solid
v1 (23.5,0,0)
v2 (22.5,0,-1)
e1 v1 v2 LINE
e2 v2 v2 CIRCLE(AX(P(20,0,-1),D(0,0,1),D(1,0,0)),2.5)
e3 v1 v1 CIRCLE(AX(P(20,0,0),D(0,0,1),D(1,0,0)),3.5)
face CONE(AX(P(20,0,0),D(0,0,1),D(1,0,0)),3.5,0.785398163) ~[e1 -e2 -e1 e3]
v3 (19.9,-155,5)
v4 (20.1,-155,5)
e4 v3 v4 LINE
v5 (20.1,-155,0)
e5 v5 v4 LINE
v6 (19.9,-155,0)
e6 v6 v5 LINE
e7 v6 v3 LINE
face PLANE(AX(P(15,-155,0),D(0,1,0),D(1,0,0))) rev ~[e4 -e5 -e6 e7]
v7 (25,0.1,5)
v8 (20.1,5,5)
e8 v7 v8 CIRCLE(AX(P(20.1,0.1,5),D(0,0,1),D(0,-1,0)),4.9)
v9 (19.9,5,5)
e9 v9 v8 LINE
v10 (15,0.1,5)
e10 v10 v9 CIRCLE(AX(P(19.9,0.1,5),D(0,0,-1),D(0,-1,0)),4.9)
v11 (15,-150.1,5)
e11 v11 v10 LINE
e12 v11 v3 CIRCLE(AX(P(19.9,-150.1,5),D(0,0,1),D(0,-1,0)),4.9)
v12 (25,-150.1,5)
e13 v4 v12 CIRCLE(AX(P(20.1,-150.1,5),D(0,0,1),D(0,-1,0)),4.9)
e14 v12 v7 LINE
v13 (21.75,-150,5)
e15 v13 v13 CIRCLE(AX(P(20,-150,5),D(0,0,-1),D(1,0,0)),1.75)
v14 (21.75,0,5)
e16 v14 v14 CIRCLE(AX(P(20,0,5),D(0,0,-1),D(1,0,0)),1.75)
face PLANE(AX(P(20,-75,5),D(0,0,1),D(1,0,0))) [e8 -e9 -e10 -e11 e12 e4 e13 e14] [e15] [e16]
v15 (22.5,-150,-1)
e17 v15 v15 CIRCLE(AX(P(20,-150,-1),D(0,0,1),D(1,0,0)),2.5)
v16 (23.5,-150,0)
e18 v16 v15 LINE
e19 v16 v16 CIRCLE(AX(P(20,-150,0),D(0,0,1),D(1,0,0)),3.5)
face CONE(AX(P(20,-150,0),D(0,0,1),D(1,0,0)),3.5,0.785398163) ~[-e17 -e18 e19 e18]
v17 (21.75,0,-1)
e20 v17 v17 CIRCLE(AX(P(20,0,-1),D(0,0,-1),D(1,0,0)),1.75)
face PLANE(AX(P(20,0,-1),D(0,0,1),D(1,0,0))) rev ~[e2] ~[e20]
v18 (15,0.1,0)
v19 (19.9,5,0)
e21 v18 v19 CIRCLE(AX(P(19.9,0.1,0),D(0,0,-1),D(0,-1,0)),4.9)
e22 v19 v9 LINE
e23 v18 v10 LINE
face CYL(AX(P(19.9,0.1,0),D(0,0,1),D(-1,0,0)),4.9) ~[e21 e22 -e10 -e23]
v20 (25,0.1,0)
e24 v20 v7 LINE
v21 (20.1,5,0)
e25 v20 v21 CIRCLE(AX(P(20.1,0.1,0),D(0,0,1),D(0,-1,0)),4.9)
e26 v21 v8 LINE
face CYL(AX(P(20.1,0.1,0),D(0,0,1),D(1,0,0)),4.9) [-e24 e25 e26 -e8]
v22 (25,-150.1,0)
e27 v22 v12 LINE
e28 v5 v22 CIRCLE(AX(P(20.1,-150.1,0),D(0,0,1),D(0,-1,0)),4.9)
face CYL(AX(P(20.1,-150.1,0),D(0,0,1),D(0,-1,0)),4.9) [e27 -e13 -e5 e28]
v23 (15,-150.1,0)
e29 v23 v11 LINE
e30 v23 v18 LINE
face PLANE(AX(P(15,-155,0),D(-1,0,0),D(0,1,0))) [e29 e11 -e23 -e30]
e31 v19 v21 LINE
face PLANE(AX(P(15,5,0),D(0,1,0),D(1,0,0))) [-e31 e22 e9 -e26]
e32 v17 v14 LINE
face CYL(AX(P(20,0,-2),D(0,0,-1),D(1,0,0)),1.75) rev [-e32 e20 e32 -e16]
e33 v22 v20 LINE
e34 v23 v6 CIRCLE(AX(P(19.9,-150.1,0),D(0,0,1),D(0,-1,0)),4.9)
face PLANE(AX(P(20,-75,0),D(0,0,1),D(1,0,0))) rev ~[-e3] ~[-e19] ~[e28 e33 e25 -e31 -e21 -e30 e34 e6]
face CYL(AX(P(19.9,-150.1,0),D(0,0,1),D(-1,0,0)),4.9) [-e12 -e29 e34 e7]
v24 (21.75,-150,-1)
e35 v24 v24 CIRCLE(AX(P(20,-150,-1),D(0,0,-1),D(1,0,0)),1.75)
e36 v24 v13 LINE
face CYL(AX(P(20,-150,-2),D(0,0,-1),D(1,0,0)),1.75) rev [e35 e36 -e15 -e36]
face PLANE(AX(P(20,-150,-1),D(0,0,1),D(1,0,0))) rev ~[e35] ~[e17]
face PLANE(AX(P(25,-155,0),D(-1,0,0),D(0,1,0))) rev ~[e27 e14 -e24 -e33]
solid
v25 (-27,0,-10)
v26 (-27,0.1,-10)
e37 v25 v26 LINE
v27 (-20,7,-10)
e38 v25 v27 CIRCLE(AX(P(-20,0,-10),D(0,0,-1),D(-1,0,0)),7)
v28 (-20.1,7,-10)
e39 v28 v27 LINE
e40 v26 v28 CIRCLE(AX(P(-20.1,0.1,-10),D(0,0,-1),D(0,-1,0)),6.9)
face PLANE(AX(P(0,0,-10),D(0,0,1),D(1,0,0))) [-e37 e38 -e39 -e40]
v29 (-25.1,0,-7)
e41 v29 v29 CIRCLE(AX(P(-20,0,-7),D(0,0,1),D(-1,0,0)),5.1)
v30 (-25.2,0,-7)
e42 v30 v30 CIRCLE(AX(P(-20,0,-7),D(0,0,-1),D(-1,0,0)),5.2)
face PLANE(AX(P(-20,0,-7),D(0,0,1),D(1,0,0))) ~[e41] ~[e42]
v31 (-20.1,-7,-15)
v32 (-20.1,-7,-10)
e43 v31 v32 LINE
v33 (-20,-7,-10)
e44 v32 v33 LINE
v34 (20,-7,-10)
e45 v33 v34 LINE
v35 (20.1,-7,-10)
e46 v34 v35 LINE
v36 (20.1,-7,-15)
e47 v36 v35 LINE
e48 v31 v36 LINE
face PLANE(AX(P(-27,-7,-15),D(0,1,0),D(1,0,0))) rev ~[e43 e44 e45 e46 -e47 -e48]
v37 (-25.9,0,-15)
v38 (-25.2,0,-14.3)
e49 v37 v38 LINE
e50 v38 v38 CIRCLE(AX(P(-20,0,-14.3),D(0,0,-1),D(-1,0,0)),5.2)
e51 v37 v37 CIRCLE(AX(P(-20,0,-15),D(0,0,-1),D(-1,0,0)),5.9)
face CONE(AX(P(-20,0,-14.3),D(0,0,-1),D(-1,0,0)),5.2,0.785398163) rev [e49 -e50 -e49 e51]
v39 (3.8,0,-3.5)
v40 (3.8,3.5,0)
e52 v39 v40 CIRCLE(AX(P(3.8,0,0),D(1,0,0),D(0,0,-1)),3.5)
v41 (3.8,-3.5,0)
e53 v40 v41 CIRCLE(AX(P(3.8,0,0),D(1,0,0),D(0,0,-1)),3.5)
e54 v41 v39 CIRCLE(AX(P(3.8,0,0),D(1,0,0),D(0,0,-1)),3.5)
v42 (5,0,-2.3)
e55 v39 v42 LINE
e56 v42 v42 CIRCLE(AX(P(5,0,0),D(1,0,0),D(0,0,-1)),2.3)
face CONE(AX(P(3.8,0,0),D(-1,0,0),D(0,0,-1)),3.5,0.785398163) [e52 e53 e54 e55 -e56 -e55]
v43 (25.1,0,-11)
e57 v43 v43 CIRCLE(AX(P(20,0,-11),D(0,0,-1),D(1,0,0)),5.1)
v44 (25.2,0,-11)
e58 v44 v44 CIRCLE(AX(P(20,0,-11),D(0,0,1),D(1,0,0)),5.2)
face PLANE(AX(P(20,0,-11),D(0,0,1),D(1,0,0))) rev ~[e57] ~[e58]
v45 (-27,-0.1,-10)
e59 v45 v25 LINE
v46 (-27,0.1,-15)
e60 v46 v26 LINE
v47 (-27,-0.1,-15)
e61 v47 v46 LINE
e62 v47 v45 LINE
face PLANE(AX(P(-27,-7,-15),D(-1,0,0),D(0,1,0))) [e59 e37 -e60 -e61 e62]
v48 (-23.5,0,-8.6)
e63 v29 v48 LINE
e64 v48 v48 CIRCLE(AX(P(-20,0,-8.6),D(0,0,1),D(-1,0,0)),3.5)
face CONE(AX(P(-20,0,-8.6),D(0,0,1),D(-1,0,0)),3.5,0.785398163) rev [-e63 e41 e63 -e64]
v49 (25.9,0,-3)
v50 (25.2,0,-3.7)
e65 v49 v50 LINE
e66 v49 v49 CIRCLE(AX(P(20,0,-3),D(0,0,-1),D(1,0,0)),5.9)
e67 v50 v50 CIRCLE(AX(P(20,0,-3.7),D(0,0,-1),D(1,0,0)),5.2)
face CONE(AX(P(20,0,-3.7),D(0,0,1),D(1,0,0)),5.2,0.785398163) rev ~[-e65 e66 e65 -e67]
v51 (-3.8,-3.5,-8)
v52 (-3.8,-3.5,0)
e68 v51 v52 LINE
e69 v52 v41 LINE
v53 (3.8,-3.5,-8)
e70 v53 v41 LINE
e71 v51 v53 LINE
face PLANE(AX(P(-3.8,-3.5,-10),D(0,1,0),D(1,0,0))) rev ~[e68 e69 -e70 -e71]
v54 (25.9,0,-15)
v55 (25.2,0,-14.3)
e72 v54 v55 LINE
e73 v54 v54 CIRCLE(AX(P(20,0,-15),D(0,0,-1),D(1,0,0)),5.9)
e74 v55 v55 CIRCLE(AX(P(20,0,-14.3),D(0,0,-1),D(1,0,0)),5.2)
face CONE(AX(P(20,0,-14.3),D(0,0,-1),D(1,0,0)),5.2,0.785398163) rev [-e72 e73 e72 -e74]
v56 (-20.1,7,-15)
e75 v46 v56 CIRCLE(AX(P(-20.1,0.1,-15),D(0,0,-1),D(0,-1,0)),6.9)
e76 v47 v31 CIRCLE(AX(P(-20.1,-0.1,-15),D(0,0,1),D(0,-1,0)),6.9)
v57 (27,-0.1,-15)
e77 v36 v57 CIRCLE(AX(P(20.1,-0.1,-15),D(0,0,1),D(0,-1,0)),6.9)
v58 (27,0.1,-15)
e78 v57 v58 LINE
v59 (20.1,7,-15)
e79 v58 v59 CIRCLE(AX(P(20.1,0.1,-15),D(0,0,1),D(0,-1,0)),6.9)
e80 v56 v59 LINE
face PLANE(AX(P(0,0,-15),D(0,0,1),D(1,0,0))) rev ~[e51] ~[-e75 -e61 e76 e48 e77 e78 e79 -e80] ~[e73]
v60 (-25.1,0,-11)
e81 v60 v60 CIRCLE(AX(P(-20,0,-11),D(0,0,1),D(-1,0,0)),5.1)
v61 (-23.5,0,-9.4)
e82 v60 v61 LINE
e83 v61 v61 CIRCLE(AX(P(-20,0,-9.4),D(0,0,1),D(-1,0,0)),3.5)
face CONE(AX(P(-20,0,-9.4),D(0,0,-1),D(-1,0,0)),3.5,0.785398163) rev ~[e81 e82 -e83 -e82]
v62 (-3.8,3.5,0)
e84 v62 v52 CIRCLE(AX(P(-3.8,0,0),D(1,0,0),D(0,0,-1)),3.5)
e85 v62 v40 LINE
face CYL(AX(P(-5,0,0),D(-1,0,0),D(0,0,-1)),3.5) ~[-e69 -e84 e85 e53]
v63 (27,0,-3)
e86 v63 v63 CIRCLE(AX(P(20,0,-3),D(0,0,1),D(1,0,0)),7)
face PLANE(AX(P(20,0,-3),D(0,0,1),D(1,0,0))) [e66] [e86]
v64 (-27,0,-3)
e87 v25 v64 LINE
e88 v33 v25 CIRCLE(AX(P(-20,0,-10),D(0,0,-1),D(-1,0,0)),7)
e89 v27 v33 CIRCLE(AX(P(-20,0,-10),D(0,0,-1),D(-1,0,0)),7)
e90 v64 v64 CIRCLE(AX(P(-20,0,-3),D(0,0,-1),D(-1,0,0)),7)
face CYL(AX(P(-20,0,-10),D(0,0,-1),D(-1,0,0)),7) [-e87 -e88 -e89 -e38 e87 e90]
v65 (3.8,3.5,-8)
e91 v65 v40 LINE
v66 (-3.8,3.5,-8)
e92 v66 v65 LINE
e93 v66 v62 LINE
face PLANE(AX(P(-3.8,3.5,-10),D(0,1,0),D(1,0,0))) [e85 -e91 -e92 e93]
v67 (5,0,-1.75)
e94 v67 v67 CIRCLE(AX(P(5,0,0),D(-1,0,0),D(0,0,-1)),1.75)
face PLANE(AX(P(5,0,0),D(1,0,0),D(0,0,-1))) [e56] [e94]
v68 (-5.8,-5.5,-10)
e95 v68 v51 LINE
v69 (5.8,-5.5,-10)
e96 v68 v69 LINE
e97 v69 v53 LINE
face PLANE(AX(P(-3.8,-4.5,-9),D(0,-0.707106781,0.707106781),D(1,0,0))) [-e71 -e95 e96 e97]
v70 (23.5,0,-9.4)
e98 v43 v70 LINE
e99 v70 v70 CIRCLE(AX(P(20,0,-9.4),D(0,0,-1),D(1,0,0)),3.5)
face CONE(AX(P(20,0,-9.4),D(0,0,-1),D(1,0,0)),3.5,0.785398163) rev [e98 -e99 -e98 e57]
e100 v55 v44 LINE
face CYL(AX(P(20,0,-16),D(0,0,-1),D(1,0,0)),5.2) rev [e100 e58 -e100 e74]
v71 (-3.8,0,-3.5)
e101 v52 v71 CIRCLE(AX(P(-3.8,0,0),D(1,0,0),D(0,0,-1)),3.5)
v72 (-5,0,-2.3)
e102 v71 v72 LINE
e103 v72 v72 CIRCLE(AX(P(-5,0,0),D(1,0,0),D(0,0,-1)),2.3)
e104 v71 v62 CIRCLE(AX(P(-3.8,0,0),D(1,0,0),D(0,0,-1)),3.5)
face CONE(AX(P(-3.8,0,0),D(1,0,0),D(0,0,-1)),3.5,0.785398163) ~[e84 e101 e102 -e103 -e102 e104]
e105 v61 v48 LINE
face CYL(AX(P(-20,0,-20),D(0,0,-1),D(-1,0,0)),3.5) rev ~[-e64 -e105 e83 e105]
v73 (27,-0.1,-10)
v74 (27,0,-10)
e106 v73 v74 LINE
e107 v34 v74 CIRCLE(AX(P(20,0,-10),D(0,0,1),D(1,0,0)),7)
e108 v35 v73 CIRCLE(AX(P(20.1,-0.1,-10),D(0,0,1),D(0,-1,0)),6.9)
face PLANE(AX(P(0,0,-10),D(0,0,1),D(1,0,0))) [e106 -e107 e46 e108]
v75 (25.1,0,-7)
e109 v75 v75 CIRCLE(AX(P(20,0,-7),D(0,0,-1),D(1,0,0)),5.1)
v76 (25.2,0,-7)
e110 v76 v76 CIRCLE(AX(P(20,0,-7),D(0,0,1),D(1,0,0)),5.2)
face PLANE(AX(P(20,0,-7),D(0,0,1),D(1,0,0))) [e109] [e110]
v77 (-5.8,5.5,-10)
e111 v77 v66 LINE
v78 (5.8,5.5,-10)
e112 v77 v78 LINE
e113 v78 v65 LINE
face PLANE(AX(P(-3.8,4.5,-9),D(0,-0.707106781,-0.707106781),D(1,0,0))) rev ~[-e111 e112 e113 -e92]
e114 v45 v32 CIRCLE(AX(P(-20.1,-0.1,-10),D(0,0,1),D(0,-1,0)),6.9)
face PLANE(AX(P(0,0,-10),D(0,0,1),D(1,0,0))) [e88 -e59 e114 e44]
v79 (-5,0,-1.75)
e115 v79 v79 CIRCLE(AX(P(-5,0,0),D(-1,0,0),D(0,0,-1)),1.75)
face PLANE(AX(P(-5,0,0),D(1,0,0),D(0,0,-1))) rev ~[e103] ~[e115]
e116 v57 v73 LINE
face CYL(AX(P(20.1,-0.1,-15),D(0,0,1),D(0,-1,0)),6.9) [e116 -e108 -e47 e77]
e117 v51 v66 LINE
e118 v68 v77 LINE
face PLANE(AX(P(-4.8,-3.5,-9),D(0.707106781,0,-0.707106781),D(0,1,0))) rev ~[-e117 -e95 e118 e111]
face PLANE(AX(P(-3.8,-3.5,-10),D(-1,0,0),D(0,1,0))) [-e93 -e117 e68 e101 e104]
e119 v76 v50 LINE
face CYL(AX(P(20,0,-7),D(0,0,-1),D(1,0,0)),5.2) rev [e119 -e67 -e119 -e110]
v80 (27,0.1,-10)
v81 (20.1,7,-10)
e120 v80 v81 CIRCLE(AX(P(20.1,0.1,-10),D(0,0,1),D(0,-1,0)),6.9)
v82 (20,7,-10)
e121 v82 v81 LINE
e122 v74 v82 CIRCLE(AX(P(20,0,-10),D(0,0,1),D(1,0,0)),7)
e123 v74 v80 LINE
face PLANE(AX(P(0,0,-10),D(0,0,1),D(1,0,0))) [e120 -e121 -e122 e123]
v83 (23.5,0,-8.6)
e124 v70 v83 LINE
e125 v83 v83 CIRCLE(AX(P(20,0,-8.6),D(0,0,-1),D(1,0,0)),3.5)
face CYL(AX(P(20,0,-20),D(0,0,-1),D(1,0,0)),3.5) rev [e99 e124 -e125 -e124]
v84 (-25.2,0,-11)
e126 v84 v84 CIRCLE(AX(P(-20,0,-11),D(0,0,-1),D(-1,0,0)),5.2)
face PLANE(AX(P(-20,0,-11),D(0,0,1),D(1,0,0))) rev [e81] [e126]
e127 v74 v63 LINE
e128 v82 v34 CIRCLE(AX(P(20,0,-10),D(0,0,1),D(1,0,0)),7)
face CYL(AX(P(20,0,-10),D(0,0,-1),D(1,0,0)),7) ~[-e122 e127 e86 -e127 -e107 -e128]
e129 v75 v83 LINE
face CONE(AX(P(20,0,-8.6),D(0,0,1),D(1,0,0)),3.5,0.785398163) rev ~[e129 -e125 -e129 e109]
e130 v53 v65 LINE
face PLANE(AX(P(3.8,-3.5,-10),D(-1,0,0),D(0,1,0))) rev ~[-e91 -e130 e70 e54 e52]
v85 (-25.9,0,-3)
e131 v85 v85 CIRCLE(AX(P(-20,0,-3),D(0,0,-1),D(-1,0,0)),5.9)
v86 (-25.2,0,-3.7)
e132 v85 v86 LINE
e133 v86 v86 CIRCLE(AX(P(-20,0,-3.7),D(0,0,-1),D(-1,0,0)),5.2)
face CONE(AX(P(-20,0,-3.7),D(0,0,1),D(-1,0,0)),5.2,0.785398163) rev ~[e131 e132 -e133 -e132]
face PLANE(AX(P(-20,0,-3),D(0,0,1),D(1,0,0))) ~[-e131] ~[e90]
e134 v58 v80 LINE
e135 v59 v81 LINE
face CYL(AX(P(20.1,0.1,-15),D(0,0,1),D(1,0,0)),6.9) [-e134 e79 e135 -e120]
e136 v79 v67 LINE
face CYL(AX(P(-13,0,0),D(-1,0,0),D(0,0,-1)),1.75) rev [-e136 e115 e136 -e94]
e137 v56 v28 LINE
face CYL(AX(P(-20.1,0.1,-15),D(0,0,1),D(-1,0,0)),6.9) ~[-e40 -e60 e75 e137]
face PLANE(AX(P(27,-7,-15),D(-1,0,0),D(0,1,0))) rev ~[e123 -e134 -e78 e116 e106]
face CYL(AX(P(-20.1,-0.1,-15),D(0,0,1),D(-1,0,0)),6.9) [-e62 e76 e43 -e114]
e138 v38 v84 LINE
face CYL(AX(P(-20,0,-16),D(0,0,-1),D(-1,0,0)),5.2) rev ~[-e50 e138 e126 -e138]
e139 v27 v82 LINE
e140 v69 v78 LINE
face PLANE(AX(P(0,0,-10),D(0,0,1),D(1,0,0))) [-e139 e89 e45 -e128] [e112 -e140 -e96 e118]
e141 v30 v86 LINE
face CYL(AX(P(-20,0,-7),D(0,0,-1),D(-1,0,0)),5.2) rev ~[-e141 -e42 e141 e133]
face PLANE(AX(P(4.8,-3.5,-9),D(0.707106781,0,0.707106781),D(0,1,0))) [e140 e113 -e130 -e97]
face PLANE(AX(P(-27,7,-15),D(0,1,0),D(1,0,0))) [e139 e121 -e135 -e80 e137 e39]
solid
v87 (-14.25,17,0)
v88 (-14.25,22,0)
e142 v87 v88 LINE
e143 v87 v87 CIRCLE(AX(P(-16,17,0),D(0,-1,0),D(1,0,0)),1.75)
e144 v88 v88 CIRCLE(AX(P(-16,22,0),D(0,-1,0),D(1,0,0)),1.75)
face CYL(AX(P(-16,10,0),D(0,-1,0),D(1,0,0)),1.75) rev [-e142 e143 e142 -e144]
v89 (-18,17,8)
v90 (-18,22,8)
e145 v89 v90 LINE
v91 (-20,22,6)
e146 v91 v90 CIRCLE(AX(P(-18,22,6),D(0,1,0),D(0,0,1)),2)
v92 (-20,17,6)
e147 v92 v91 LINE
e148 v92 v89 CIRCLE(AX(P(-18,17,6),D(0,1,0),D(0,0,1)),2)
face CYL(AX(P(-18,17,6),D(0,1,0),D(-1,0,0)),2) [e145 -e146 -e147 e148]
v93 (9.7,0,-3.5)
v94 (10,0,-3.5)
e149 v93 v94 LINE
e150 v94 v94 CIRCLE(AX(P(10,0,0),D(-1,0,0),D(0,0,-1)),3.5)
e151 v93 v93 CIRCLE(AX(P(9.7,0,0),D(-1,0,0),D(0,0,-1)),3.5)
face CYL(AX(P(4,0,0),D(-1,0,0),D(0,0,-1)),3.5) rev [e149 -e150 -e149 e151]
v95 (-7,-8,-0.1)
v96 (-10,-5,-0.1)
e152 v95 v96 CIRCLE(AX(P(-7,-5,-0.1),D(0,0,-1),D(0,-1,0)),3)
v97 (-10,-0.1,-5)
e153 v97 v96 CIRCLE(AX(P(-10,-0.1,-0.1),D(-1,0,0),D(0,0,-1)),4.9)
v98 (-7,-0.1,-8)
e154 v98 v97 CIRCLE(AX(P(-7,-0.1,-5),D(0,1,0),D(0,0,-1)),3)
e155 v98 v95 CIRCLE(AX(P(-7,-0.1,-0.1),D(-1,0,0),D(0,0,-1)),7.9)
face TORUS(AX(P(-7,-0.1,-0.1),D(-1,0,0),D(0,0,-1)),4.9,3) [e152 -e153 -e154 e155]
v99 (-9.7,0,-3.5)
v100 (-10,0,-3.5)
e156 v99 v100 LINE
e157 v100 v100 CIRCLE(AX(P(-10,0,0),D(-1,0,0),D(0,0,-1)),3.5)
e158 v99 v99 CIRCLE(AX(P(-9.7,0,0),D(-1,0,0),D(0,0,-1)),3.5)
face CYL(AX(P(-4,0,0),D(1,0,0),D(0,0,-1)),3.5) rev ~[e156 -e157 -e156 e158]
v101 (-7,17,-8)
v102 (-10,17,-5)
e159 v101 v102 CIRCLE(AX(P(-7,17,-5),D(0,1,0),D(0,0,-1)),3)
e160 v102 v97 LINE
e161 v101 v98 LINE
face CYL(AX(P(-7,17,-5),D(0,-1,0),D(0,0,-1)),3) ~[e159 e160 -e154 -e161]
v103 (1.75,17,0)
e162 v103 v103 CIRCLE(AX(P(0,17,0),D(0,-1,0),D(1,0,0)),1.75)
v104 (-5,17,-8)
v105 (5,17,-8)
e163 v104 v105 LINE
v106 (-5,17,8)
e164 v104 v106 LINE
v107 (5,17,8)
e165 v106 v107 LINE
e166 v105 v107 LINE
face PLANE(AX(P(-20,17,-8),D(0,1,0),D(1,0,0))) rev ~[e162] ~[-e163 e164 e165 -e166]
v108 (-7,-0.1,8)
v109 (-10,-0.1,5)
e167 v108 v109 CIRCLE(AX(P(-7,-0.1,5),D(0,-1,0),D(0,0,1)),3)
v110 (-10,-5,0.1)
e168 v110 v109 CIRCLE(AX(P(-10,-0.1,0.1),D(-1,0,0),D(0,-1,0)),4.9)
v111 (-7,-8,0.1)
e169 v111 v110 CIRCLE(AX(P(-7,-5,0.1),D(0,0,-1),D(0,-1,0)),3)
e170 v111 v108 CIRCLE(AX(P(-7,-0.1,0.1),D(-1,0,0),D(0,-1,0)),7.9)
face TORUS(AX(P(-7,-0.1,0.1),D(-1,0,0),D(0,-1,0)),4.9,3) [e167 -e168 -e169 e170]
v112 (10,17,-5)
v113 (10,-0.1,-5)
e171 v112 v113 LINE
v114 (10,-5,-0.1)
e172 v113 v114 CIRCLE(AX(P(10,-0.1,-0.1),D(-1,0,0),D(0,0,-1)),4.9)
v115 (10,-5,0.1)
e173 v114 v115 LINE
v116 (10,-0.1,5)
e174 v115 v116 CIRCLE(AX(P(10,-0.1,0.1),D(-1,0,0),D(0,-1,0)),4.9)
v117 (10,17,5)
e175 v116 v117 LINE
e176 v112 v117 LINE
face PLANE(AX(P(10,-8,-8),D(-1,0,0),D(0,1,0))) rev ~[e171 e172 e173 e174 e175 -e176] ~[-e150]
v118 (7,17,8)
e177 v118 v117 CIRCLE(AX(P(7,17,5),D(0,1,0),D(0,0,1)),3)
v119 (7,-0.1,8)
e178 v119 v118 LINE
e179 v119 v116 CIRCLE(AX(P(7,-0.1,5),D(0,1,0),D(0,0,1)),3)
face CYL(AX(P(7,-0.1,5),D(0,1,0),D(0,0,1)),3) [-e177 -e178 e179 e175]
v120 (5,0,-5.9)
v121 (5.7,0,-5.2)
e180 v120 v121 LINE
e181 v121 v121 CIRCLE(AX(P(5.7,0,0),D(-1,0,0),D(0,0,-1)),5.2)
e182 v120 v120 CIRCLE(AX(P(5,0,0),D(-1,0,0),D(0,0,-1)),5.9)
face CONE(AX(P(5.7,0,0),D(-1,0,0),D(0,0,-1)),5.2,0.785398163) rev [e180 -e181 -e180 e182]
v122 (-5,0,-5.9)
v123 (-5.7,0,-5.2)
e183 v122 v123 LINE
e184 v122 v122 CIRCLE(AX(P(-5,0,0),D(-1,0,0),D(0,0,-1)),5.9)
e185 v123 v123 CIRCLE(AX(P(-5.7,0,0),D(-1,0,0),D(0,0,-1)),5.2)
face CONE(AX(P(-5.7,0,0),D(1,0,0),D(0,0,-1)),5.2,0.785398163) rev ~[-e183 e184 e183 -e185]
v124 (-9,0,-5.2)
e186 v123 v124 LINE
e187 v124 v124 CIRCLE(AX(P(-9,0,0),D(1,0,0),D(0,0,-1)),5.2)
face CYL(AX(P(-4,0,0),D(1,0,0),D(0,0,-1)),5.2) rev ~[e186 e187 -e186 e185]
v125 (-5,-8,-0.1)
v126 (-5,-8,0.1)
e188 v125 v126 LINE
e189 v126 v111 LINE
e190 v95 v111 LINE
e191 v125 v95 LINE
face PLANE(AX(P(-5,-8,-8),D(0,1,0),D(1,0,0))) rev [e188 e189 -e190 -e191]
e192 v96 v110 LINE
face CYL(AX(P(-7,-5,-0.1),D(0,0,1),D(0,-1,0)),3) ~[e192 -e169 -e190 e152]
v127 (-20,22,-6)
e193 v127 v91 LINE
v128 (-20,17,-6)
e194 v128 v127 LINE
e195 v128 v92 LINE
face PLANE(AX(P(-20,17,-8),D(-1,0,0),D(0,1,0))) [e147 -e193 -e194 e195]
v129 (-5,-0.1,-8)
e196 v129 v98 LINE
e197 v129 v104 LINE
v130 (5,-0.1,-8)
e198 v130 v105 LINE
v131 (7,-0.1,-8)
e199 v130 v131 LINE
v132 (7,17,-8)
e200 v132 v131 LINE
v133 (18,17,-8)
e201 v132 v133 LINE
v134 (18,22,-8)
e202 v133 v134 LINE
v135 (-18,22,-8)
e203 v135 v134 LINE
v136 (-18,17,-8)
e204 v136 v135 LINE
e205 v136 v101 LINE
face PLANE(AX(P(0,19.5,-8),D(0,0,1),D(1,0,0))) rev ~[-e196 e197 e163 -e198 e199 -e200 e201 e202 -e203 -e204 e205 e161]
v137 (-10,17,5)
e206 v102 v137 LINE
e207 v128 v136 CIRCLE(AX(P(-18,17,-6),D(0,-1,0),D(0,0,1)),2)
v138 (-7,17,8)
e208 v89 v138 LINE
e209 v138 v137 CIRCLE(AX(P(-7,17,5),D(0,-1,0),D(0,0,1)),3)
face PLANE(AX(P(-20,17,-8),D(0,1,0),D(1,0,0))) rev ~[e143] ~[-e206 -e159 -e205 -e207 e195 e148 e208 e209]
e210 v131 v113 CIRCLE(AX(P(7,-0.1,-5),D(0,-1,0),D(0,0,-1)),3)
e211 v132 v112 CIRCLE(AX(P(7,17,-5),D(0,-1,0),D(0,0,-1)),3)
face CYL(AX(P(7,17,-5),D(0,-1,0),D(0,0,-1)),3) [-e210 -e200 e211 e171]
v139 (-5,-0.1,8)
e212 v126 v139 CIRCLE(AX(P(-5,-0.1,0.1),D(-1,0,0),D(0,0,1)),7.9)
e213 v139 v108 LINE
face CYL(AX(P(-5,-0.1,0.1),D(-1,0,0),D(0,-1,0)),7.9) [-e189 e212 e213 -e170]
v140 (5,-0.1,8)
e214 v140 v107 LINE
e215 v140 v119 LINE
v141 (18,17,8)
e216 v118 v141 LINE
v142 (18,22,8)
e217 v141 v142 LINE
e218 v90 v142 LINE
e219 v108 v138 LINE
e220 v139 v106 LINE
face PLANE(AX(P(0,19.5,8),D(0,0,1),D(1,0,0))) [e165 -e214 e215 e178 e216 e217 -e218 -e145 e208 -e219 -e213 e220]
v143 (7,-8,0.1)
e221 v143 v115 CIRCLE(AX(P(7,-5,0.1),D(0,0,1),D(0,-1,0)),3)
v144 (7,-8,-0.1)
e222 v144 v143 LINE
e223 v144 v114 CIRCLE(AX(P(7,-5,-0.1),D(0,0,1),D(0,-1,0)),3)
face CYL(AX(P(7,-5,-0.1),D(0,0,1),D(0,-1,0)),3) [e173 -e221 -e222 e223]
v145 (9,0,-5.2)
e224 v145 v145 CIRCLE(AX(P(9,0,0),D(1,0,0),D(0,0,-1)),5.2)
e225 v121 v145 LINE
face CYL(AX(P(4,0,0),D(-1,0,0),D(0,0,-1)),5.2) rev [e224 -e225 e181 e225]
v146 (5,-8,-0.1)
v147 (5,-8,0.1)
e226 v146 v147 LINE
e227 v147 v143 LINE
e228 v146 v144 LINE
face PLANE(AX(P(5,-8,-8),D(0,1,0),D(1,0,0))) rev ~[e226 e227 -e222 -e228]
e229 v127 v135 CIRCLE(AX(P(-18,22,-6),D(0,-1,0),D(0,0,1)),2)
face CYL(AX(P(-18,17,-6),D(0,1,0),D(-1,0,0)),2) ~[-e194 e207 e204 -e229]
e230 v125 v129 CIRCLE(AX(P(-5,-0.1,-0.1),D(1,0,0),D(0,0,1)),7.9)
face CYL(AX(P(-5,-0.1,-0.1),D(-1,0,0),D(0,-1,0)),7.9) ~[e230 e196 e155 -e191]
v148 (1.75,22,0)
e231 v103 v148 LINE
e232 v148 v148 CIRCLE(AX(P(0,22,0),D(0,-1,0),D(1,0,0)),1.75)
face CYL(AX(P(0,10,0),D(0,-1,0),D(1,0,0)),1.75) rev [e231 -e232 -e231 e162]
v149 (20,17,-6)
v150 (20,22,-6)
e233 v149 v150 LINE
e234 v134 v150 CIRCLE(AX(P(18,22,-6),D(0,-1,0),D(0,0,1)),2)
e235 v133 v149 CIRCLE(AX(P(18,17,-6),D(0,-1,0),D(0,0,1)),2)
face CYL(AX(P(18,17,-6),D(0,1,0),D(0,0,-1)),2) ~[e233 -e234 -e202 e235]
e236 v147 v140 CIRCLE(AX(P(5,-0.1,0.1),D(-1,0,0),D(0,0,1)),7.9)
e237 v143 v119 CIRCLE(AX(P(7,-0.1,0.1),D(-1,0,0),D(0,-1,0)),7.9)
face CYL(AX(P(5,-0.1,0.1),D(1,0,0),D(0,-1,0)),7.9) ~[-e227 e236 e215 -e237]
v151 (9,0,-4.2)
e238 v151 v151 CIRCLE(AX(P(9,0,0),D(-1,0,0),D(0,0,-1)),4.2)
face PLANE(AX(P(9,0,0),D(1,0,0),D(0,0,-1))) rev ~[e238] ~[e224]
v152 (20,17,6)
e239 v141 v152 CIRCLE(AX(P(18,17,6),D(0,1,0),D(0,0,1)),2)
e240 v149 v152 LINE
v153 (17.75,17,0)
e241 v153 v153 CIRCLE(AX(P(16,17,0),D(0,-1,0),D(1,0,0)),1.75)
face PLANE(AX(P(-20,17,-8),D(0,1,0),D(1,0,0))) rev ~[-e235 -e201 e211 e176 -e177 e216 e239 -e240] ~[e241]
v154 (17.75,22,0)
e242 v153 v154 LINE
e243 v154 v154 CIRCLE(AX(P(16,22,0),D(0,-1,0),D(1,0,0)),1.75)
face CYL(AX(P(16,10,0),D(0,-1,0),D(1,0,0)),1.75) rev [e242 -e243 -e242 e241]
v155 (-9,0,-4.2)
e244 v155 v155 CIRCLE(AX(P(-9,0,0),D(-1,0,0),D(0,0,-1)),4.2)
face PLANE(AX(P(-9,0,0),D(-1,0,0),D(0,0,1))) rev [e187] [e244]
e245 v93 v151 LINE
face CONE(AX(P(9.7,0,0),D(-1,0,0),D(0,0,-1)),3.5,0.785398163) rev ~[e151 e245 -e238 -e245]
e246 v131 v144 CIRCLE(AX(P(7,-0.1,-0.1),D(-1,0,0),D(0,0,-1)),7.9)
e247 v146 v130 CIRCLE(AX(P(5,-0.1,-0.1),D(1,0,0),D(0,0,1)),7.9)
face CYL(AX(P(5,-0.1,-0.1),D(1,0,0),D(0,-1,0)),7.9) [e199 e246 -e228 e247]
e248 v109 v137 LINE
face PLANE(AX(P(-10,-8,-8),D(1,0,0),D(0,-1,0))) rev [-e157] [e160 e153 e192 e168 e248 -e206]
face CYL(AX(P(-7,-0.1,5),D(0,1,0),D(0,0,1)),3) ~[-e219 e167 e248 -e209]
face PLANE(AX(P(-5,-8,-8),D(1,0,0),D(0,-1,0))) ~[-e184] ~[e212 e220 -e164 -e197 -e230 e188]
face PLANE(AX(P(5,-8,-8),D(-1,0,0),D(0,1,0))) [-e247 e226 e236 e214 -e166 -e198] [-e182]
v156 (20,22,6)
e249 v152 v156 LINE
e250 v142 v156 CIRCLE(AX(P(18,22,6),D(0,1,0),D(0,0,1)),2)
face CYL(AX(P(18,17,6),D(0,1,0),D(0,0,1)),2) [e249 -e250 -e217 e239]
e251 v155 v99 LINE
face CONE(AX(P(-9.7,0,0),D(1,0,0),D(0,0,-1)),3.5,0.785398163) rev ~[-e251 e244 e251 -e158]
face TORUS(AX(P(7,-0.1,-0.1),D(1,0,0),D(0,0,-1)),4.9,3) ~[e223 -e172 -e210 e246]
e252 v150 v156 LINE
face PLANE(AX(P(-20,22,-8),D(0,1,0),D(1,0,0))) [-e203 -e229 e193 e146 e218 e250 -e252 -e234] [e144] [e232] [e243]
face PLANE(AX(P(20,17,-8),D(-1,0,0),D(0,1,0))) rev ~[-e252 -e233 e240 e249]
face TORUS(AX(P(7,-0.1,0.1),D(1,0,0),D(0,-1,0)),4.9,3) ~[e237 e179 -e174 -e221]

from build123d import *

# Parameters (mm, degrees)
CYLINDER012_R     = 5.2
CYLINDER012_DEPTH = 5
CYLINDER011_R     = 5.2
CYLINDER011_DEPTH = 5
CYLINDER013_R     = 3.5
CYLINDER013_DEPTH = 20
CYLINDER008_R     = 5.2
CYLINDER008_DEPTH = 5
CYLINDER002_R     = 5.2
CYLINDER002_DEPTH = 5
CYLINDER010_R     = 3.5
CYLINDER010_DEPTH = 20
CYLINDER003_R     = 1.75
CYLINDER003_DEPTH = 26
CYLINDER009_R     = 7
CYLINDER009_DEPTH = 7
CYLINDER006_R     = 7
CYLINDER006_DEPTH = 7
BOX001_W          = 7.6
BOX001_H          = 7
BOX001_DEPTH      = 10
CYLINDER005_R     = 3.5
CYLINDER005_DEPTH = 10
CHAMFER_SIZE      = 1.2
BOX002_W          = 54
BOX002_H          = 14
BOX002_DEPTH      = 5
FILLET002_R       = 6.9
CHAMFER001_SIZE   = 1.6
CHAMFER002_SIZE   = 2
CHAMFER003_SIZE   = 0.7
CYLINDER017_R     = 1.75
CYLINDER017_DEPTH = 20
CYLINDER018_R     = 1.75
CYLINDER018_DEPTH = 20
CYLINDER007_R     = 1.75
CYLINDER007_DEPTH = 20
CYLINDER015_R     = 5.2
CYLINDER015_DEPTH = 5
CYLINDER016_R     = 3.5
CYLINDER016_DEPTH = 13
BOX004_W          = 5
BOX004_H          = 25
BOX004_DEPTH      = 16
FILLET003_R       = 7.9
FILLET004_R       = 3
BOX003_W          = 40
BOX003_H          = 5
BOX003_DEPTH      = 16
CYLINDER001_R     = 5.2
CYLINDER001_DEPTH = 5
CYLINDER014_R     = 3.5
CYLINDER014_DEPTH = 13
BOX_W             = 5
BOX_H             = 25
BOX_DEPTH         = 16
FILLET_R          = 7.9
FILLET001_R       = 3
FILLET005_R       = 2
CHAMFER004_SIZE   = 0.7
CHAMFER005_SIZE   = 0.7
CYLINDER019_R     = 1.75
CYLINDER019_DEPTH = 10
CYLINDER020_R     = 1.75
CYLINDER020_DEPTH = 10
CYLINDER021_R     = 3.5
CYLINDER021_DEPTH = 3
CHAMFER006_SIZE   = 1
CYLINDER022_R     = 3.5
CYLINDER022_DEPTH = 2
CHAMFER007_SIZE   = 1
BOX005_W          = 10
BOX005_H          = 160
BOX005_DEPTH      = 5
FILLET006_R       = 4.9


with BuildPart() as cylinder012:
    # Cylinder012 → Cylinder012 (new body)
    with BuildSketch(Plane(origin=(20, 0, -16), x_dir=(1, 0, 0), z_dir=(0, 0, 1))):
        Circle(CYLINDER012_R)
    extrude(amount=CYLINDER012_DEPTH)


with BuildPart() as cylinder011:
    # Cylinder011 → Cylinder011 (new body)
    with BuildSketch(Plane(origin=(20, 0, -7), x_dir=(1, 0, 0), z_dir=(0, 0, 1))):
        Circle(CYLINDER011_R)
    extrude(amount=CYLINDER011_DEPTH)


with BuildPart() as bearing_core001:
    # Cylinder013 → Cylinder013 (new body)
    with BuildSketch(Plane(origin=(20, 0, -20), x_dir=(1, 0, 0), z_dir=(0, 0, 1))):
        Circle(CYLINDER013_R)
    extrude(amount=CYLINDER013_DEPTH)

    # Fusion002: union Cylinder012, Cylinder011
    add(cylinder012.part)
    add(cylinder011.part)


with BuildPart() as part_mirroring001:
    # Part__Mirroring001: instance of bearing-core001
    add(bearing_core001.part.mirror(Plane(origin=(0, 0, 0), x_dir=(0, -1, 0), z_dir=(1, 0, 0))))


with BuildPart() as cylinder008:
    # Cylinder008 → Cylinder008 (new body)
    with BuildSketch(Plane(origin=(20, 0, -16), x_dir=(1, 0, 0), z_dir=(0, 0, 1))):
        Circle(CYLINDER008_R)
    extrude(amount=CYLINDER008_DEPTH)


with BuildPart() as cylinder002:
    # Cylinder002 → Cylinder002 (new body)
    with BuildSketch(Plane(origin=(20, 0, -7), x_dir=(1, 0, 0), z_dir=(0, 0, 1))):
        Circle(CYLINDER002_R)
    extrude(amount=CYLINDER002_DEPTH)


with BuildPart() as bearing_cores:
    # Cylinder010 → Cylinder010 (new body)
    with BuildSketch(Plane(origin=(20, 0, -20), x_dir=(1, 0, 0), z_dir=(0, 0, 1))):
        Circle(CYLINDER010_R)
    extrude(amount=CYLINDER010_DEPTH)

    # Fusion001: union Cylinder008, Cylinder002
    add(cylinder008.part)
    add(cylinder002.part)

    # Fusion003: union Part__Mirroring001
    add(part_mirroring001.part)


with BuildPart() as big_holes:
    # Cylinder003 → Cylinder003 (new body)
    with BuildSketch(Plane(origin=(-13, 0, 0), x_dir=(0, 0, -1), z_dir=(1, 0, 0))):
        Circle(CYLINDER003_R)
    extrude(amount=CYLINDER003_DEPTH)

    # Fusion004: union bearing-cores
    add(bearing_cores.part)


with BuildPart() as cylinder009:
    # Cylinder009 → Cylinder009 (new body)
    with BuildSketch(Plane(origin=(20, 0, -10), x_dir=(1, 0, 0), z_dir=(0, 0, 1))):
        Circle(CYLINDER009_R)
    extrude(amount=CYLINDER009_DEPTH)


with BuildPart() as part_mirroring:
    # Part__Mirroring: instance of Cylinder009
    add(cylinder009.part.mirror(Plane(origin=(0, 0, 0), x_dir=(0, -1, 0), z_dir=(1, 0, 0))))


with BuildPart() as cylinder006:
    # Cylinder006 → Cylinder006 (new body)
    with BuildSketch(Plane(origin=(20, 0, -10), x_dir=(1, 0, 0), z_dir=(0, 0, 1))):
        Circle(CYLINDER006_R)
    extrude(amount=CYLINDER006_DEPTH)


with BuildPart() as cube001:
    # Box001 → Box001 (new body)
    with BuildSketch(Plane(origin=(-3.8, -3.5, -10), x_dir=(1, 0, 0), z_dir=(0, 0, 1))):
        with Locations((3.8, 3.5)):
            Rectangle(BOX001_W, BOX001_H)
    extrude(amount=BOX001_DEPTH)


with BuildPart() as chamfer_body:
    # Cylinder005 → Cylinder005 (new body)
    with BuildSketch(Plane(origin=(-5, 0, 0), x_dir=(0, 0, -1), z_dir=(1, 0, 0))):
        Circle(CYLINDER005_R)
    extrude(amount=CYLINDER005_DEPTH)

    # Chamfer
    chamfer_edges = [chamfer_body.edges().sort_by_distance(p)[0] for p in [
        (5, 0, 3.5),
        (-5, 0, 3.5),
    ]]
    chamfer(chamfer_edges, length=CHAMFER_SIZE)


with BuildPart() as bigrotate:
    # Box002 → Box002 (new body)
    with BuildSketch(Plane(origin=(-27, -7, -15), x_dir=(1, 0, 0), z_dir=(0, 0, 1))):
        with Locations((27, 7)):
            Rectangle(BOX002_W, BOX002_H)
    extrude(amount=BOX002_DEPTH)

    # Fillet002
    fillet002_edges = [bigrotate.edges().sort_by_distance(p)[0] for p in [
        (-27, -7, -12.5),
        (-27, 7, -12.5),
        (27, -7, -12.5),
        (27, 7, -12.5),
    ]]
    fillet(fillet002_edges, radius=FILLET002_R)

    # Fusion: union Part__Mirroring, Cylinder006, Cube001, Chamfer body
    add(part_mirroring.part)
    add(cylinder006.part)
    add(cube001.part)
    add(chamfer_body.part)

    # Cut: cut big-holes
    add(big_holes.part, mode=Mode.SUBTRACT)

    # Chamfer001
    chamfer001_edges = [bigrotate.edges().sort_by_distance(p)[0] for p in [
        (-16.5, 0, -7),
        (-16.5, 0, -11),
        (16.5, 0, -11),
        (16.5, 0, -7),
    ]]
    chamfer(chamfer001_edges, length=CHAMFER001_SIZE)

    # Chamfer002
    chamfer002_edges = [bigrotate.edges().sort_by_distance(p)[0] for p in [
        (-3.8, 0, -10),
        (0, -3.5, -10),
        (3.8, 0, -10),
        (0, 3.5, -10),
    ]]
    chamfer(chamfer002_edges, length=CHAMFER002_SIZE)

    # Chamfer003
    chamfer003_edges = [bigrotate.edges().sort_by_distance(p)[0] for p in [
        (-14.8, 0, -15),
        (14.8, 0, -15),
        (14.8, 0, -3),
        (-14.8, 0, -3),
    ]]
    chamfer(chamfer003_edges, length=CHAMFER003_SIZE)


with BuildPart() as cylinder017:
    # Cylinder017 → Cylinder017 (new body)
    with BuildSketch(Plane(origin=(0, 10, 0), x_dir=(1, 0, 0), z_dir=(0, 1, 0))):
        Circle(CYLINDER017_R)
    extrude(amount=CYLINDER017_DEPTH)


with BuildPart() as cylinder018:
    # Cylinder018 → Cylinder018 (new body)
    with BuildSketch(Plane(origin=(16, 10, 0), x_dir=(1, 0, 0), z_dir=(0, 1, 0))):
        Circle(CYLINDER018_R)
    extrude(amount=CYLINDER018_DEPTH)


with BuildPart() as fusion007:
    # Cylinder007 → Cylinder007 (new body)
    with BuildSketch(Plane(origin=(-16, 10, 0), x_dir=(1, 0, 0), z_dir=(0, 1, 0))):
        Circle(CYLINDER007_R)
    extrude(amount=CYLINDER007_DEPTH)

    # Fusion007: union Cylinder017, Cylinder018
    add(cylinder017.part)
    add(cylinder018.part)


with BuildPart() as cylinder015:
    # Cylinder015 → Cylinder015 (new body)
    with BuildSketch(Plane(origin=(4, 0, 0), x_dir=(0, 0, -1), z_dir=(1, 0, 0))):
        Circle(CYLINDER015_R)
    extrude(amount=CYLINDER015_DEPTH)


with BuildPart() as bearing_hole001:
    # Cylinder016 → Cylinder016 (new body)
    with BuildSketch(Plane(origin=(4, 0, 0), x_dir=(0, 0, -1), z_dir=(1, 0, 0))):
        Circle(CYLINDER016_R)
    extrude(amount=CYLINDER016_DEPTH)

    # Fusion006: union Cylinder015
    add(cylinder015.part)


with BuildPart() as cut002:
    # Box004 → Box004 (new body)
    with BuildSketch(Plane(origin=(5, -8, -8), x_dir=(1, 0, 0), z_dir=(0, 0, 1))):
        with Locations((2.5, 12.5)):
            Rectangle(BOX004_W, BOX004_H)
    extrude(amount=BOX004_DEPTH)

    # Fillet003
    fillet003_edges = [cut002.edges().sort_by_distance(p)[0] for p in [
        (7.5, -8, -8),
        (7.5, -8, 8),
    ]]
    fillet(fillet003_edges, radius=FILLET003_R)

    # Fillet004
    fillet004_edges = [cut002.edges().sort_by_distance(p)[0] for p in [
        (10, -8, 0),
        (10, -5.686144, -5.686144),
        (10, -5.686144, 5.686144),
        (10, 8.45, -8),
        (10, 8.45, 8),
    ]]
    fillet(fillet004_edges, radius=FILLET004_R)

    # Cut002: cut bearing-hole001
    add(bearing_hole001.part, mode=Mode.SUBTRACT)


with BuildPart() as part_mirroring002:
    # Part__Mirroring002: instance of Cut002
    add(cut002.part.mirror(Plane(origin=(0, 0, 0), x_dir=(0, -1, 0), z_dir=(1, 0, 0))))


with BuildPart() as cube003:
    # Box003 → Box003 (new body)
    with BuildSketch(Plane(origin=(-20, 17, -8), x_dir=(1, 0, 0), z_dir=(0, 0, 1))):
        with Locations((20, 2.5)):
            Rectangle(BOX003_W, BOX003_H)
    extrude(amount=BOX003_DEPTH)


with BuildPart() as cylinder001:
    # Cylinder001 → Cylinder001 (new body)
    with BuildSketch(Plane(origin=(4, 0, 0), x_dir=(0, 0, -1), z_dir=(1, 0, 0))):
        Circle(CYLINDER001_R)
    extrude(amount=CYLINDER001_DEPTH)


with BuildPart() as bearing_hole:
    # Cylinder014 → Cylinder014 (new body)
    with BuildSketch(Plane(origin=(4, 0, 0), x_dir=(0, 0, -1), z_dir=(1, 0, 0))):
        Circle(CYLINDER014_R)
    extrude(amount=CYLINDER014_DEPTH)

    # Fusion005: union Cylinder001
    add(cylinder001.part)


with BuildPart() as bracket:
    # Box → Box (new body)
    with BuildSketch(Plane(origin=(5, -8, -8), x_dir=(1, 0, 0), z_dir=(0, 0, 1))):
        with Locations((2.5, 12.5)):
            Rectangle(BOX_W, BOX_H)
    extrude(amount=BOX_DEPTH)

    # Fillet
    fillet_edges = [bracket.edges().sort_by_distance(p)[0] for p in [
        (7.5, -8, -8),
        (7.5, -8, 8),
    ]]
    fillet(fillet_edges, radius=FILLET_R)

    # Fillet001
    fillet001_edges = [bracket.edges().sort_by_distance(p)[0] for p in [
        (10, -8, 0),
        (10, -5.686144, -5.686144),
        (10, -5.686144, 5.686144),
        (10, 8.45, -8),
        (10, 8.45, 8),
    ]]
    fillet(fillet001_edges, radius=FILLET001_R)

    # Cut001: cut bearing-hole
    add(bearing_hole.part, mode=Mode.SUBTRACT)

    # Fusion008: union Part__Mirroring002, Cube003
    add(part_mirroring002.part)
    add(cube003.part)

    # Cut003: cut Fusion007
    add(fusion007.part, mode=Mode.SUBTRACT)

    # Fillet005
    fillet005_edges = [bracket.edges().sort_by_distance(p)[0] for p in [
        (-20, 19.5, 8),
        (-20, 19.5, -8),
        (20, 19.5, 8),
        (20, 19.5, -8),
    ]]
    fillet(fillet005_edges, radius=FILLET005_R)

    # Chamfer004
    chamfer004_edges = [bracket.edges().sort_by_distance(p)[0] for p in [
        (-5, 0, 5.2),
        (5, 0, 5.2),
    ]]
    chamfer(chamfer004_edges, length=CHAMFER004_SIZE)

    # Chamfer005
    chamfer005_edges = [bracket.edges().sort_by_distance(p)[0] for p in [
        (-9, 0, 3.5),
        (9, 0, 3.5),
    ]]
    chamfer(chamfer005_edges, length=CHAMFER005_SIZE)


with BuildPart() as cylinder:
    # Cylinder019 → Cylinder019 (new body)
    with BuildSketch(Plane(origin=(20, 0, -2), x_dir=(1, 0, 0), z_dir=(0, 0, 1))):
        Circle(CYLINDER019_R)
    extrude(amount=CYLINDER019_DEPTH)


with BuildPart() as rod_holes:
    # Cylinder020 → Cylinder020 (new body)
    with BuildSketch(Plane(origin=(20, -150, -2), x_dir=(1, 0, 0), z_dir=(0, 0, 1))):
        Circle(CYLINDER020_R)
    extrude(amount=CYLINDER020_DEPTH)

    # Fusion010: union Cylinder
    add(cylinder.part)


with BuildPart() as chamfer006:
    # Cylinder021 → Cylinder021 (new body)
    with BuildSketch(Plane(origin=(20, 0, -1), x_dir=(1, 0, 0), z_dir=(0, 0, 1))):
        Circle(CYLINDER021_R)
    extrude(amount=CYLINDER021_DEPTH)

    # Chamfer006
    chamfer006_edges = [chamfer006.edges().sort_by_distance(p)[0] for p in [
        (16.5, 0, -1),
    ]]
    chamfer(chamfer006_edges, length=CHAMFER006_SIZE)


with BuildPart() as chamfer007:
    # Cylinder022 → Cylinder022 (new body)
    with BuildSketch(Plane(origin=(20, -150, -1), x_dir=(1, 0, 0), z_dir=(0, 0, 1))):
        Circle(CYLINDER022_R)
    extrude(amount=CYLINDER022_DEPTH)

    # Chamfer007
    chamfer007_edges = [chamfer007.edges().sort_by_distance(p)[0] for p in [
        (16.5, -150, -1),
    ]]
    chamfer(chamfer007_edges, length=CHAMFER007_SIZE)


with BuildPart() as rod:
    # Box005 → Box005 (new body)
    with BuildSketch(Plane(origin=(15, -144, 0), x_dir=(1, 0, 0), z_dir=(0, 0, 1))):
        with Locations((5, 80)):
            Rectangle(BOX005_W, BOX005_H)
    extrude(amount=BOX005_DEPTH)

    # Fillet006
    fillet006_edges = [rod.edges().sort_by_distance(p)[0] for p in [
        (15, -144, 2.5),
        (15, 16, 2.5),
        (25, -144, 2.5),
        (25, 16, 2.5),
    ]]
    fillet(fillet006_edges, radius=FILLET006_R)


with BuildPart() as rod_1:
    # Fillet006 placement: moved
    add(rod.part.moved(Location((0, -11, 0))))

    # Fusion009: union Chamfer006, Chamfer007
    add(chamfer006.part)
    add(chamfer007.part)

    # Cut004: cut rod-holes
    add(rod_holes.part, mode=Mode.SUBTRACT)


solid = Compound([bigrotate.part, bracket.part, rod_1.part])
